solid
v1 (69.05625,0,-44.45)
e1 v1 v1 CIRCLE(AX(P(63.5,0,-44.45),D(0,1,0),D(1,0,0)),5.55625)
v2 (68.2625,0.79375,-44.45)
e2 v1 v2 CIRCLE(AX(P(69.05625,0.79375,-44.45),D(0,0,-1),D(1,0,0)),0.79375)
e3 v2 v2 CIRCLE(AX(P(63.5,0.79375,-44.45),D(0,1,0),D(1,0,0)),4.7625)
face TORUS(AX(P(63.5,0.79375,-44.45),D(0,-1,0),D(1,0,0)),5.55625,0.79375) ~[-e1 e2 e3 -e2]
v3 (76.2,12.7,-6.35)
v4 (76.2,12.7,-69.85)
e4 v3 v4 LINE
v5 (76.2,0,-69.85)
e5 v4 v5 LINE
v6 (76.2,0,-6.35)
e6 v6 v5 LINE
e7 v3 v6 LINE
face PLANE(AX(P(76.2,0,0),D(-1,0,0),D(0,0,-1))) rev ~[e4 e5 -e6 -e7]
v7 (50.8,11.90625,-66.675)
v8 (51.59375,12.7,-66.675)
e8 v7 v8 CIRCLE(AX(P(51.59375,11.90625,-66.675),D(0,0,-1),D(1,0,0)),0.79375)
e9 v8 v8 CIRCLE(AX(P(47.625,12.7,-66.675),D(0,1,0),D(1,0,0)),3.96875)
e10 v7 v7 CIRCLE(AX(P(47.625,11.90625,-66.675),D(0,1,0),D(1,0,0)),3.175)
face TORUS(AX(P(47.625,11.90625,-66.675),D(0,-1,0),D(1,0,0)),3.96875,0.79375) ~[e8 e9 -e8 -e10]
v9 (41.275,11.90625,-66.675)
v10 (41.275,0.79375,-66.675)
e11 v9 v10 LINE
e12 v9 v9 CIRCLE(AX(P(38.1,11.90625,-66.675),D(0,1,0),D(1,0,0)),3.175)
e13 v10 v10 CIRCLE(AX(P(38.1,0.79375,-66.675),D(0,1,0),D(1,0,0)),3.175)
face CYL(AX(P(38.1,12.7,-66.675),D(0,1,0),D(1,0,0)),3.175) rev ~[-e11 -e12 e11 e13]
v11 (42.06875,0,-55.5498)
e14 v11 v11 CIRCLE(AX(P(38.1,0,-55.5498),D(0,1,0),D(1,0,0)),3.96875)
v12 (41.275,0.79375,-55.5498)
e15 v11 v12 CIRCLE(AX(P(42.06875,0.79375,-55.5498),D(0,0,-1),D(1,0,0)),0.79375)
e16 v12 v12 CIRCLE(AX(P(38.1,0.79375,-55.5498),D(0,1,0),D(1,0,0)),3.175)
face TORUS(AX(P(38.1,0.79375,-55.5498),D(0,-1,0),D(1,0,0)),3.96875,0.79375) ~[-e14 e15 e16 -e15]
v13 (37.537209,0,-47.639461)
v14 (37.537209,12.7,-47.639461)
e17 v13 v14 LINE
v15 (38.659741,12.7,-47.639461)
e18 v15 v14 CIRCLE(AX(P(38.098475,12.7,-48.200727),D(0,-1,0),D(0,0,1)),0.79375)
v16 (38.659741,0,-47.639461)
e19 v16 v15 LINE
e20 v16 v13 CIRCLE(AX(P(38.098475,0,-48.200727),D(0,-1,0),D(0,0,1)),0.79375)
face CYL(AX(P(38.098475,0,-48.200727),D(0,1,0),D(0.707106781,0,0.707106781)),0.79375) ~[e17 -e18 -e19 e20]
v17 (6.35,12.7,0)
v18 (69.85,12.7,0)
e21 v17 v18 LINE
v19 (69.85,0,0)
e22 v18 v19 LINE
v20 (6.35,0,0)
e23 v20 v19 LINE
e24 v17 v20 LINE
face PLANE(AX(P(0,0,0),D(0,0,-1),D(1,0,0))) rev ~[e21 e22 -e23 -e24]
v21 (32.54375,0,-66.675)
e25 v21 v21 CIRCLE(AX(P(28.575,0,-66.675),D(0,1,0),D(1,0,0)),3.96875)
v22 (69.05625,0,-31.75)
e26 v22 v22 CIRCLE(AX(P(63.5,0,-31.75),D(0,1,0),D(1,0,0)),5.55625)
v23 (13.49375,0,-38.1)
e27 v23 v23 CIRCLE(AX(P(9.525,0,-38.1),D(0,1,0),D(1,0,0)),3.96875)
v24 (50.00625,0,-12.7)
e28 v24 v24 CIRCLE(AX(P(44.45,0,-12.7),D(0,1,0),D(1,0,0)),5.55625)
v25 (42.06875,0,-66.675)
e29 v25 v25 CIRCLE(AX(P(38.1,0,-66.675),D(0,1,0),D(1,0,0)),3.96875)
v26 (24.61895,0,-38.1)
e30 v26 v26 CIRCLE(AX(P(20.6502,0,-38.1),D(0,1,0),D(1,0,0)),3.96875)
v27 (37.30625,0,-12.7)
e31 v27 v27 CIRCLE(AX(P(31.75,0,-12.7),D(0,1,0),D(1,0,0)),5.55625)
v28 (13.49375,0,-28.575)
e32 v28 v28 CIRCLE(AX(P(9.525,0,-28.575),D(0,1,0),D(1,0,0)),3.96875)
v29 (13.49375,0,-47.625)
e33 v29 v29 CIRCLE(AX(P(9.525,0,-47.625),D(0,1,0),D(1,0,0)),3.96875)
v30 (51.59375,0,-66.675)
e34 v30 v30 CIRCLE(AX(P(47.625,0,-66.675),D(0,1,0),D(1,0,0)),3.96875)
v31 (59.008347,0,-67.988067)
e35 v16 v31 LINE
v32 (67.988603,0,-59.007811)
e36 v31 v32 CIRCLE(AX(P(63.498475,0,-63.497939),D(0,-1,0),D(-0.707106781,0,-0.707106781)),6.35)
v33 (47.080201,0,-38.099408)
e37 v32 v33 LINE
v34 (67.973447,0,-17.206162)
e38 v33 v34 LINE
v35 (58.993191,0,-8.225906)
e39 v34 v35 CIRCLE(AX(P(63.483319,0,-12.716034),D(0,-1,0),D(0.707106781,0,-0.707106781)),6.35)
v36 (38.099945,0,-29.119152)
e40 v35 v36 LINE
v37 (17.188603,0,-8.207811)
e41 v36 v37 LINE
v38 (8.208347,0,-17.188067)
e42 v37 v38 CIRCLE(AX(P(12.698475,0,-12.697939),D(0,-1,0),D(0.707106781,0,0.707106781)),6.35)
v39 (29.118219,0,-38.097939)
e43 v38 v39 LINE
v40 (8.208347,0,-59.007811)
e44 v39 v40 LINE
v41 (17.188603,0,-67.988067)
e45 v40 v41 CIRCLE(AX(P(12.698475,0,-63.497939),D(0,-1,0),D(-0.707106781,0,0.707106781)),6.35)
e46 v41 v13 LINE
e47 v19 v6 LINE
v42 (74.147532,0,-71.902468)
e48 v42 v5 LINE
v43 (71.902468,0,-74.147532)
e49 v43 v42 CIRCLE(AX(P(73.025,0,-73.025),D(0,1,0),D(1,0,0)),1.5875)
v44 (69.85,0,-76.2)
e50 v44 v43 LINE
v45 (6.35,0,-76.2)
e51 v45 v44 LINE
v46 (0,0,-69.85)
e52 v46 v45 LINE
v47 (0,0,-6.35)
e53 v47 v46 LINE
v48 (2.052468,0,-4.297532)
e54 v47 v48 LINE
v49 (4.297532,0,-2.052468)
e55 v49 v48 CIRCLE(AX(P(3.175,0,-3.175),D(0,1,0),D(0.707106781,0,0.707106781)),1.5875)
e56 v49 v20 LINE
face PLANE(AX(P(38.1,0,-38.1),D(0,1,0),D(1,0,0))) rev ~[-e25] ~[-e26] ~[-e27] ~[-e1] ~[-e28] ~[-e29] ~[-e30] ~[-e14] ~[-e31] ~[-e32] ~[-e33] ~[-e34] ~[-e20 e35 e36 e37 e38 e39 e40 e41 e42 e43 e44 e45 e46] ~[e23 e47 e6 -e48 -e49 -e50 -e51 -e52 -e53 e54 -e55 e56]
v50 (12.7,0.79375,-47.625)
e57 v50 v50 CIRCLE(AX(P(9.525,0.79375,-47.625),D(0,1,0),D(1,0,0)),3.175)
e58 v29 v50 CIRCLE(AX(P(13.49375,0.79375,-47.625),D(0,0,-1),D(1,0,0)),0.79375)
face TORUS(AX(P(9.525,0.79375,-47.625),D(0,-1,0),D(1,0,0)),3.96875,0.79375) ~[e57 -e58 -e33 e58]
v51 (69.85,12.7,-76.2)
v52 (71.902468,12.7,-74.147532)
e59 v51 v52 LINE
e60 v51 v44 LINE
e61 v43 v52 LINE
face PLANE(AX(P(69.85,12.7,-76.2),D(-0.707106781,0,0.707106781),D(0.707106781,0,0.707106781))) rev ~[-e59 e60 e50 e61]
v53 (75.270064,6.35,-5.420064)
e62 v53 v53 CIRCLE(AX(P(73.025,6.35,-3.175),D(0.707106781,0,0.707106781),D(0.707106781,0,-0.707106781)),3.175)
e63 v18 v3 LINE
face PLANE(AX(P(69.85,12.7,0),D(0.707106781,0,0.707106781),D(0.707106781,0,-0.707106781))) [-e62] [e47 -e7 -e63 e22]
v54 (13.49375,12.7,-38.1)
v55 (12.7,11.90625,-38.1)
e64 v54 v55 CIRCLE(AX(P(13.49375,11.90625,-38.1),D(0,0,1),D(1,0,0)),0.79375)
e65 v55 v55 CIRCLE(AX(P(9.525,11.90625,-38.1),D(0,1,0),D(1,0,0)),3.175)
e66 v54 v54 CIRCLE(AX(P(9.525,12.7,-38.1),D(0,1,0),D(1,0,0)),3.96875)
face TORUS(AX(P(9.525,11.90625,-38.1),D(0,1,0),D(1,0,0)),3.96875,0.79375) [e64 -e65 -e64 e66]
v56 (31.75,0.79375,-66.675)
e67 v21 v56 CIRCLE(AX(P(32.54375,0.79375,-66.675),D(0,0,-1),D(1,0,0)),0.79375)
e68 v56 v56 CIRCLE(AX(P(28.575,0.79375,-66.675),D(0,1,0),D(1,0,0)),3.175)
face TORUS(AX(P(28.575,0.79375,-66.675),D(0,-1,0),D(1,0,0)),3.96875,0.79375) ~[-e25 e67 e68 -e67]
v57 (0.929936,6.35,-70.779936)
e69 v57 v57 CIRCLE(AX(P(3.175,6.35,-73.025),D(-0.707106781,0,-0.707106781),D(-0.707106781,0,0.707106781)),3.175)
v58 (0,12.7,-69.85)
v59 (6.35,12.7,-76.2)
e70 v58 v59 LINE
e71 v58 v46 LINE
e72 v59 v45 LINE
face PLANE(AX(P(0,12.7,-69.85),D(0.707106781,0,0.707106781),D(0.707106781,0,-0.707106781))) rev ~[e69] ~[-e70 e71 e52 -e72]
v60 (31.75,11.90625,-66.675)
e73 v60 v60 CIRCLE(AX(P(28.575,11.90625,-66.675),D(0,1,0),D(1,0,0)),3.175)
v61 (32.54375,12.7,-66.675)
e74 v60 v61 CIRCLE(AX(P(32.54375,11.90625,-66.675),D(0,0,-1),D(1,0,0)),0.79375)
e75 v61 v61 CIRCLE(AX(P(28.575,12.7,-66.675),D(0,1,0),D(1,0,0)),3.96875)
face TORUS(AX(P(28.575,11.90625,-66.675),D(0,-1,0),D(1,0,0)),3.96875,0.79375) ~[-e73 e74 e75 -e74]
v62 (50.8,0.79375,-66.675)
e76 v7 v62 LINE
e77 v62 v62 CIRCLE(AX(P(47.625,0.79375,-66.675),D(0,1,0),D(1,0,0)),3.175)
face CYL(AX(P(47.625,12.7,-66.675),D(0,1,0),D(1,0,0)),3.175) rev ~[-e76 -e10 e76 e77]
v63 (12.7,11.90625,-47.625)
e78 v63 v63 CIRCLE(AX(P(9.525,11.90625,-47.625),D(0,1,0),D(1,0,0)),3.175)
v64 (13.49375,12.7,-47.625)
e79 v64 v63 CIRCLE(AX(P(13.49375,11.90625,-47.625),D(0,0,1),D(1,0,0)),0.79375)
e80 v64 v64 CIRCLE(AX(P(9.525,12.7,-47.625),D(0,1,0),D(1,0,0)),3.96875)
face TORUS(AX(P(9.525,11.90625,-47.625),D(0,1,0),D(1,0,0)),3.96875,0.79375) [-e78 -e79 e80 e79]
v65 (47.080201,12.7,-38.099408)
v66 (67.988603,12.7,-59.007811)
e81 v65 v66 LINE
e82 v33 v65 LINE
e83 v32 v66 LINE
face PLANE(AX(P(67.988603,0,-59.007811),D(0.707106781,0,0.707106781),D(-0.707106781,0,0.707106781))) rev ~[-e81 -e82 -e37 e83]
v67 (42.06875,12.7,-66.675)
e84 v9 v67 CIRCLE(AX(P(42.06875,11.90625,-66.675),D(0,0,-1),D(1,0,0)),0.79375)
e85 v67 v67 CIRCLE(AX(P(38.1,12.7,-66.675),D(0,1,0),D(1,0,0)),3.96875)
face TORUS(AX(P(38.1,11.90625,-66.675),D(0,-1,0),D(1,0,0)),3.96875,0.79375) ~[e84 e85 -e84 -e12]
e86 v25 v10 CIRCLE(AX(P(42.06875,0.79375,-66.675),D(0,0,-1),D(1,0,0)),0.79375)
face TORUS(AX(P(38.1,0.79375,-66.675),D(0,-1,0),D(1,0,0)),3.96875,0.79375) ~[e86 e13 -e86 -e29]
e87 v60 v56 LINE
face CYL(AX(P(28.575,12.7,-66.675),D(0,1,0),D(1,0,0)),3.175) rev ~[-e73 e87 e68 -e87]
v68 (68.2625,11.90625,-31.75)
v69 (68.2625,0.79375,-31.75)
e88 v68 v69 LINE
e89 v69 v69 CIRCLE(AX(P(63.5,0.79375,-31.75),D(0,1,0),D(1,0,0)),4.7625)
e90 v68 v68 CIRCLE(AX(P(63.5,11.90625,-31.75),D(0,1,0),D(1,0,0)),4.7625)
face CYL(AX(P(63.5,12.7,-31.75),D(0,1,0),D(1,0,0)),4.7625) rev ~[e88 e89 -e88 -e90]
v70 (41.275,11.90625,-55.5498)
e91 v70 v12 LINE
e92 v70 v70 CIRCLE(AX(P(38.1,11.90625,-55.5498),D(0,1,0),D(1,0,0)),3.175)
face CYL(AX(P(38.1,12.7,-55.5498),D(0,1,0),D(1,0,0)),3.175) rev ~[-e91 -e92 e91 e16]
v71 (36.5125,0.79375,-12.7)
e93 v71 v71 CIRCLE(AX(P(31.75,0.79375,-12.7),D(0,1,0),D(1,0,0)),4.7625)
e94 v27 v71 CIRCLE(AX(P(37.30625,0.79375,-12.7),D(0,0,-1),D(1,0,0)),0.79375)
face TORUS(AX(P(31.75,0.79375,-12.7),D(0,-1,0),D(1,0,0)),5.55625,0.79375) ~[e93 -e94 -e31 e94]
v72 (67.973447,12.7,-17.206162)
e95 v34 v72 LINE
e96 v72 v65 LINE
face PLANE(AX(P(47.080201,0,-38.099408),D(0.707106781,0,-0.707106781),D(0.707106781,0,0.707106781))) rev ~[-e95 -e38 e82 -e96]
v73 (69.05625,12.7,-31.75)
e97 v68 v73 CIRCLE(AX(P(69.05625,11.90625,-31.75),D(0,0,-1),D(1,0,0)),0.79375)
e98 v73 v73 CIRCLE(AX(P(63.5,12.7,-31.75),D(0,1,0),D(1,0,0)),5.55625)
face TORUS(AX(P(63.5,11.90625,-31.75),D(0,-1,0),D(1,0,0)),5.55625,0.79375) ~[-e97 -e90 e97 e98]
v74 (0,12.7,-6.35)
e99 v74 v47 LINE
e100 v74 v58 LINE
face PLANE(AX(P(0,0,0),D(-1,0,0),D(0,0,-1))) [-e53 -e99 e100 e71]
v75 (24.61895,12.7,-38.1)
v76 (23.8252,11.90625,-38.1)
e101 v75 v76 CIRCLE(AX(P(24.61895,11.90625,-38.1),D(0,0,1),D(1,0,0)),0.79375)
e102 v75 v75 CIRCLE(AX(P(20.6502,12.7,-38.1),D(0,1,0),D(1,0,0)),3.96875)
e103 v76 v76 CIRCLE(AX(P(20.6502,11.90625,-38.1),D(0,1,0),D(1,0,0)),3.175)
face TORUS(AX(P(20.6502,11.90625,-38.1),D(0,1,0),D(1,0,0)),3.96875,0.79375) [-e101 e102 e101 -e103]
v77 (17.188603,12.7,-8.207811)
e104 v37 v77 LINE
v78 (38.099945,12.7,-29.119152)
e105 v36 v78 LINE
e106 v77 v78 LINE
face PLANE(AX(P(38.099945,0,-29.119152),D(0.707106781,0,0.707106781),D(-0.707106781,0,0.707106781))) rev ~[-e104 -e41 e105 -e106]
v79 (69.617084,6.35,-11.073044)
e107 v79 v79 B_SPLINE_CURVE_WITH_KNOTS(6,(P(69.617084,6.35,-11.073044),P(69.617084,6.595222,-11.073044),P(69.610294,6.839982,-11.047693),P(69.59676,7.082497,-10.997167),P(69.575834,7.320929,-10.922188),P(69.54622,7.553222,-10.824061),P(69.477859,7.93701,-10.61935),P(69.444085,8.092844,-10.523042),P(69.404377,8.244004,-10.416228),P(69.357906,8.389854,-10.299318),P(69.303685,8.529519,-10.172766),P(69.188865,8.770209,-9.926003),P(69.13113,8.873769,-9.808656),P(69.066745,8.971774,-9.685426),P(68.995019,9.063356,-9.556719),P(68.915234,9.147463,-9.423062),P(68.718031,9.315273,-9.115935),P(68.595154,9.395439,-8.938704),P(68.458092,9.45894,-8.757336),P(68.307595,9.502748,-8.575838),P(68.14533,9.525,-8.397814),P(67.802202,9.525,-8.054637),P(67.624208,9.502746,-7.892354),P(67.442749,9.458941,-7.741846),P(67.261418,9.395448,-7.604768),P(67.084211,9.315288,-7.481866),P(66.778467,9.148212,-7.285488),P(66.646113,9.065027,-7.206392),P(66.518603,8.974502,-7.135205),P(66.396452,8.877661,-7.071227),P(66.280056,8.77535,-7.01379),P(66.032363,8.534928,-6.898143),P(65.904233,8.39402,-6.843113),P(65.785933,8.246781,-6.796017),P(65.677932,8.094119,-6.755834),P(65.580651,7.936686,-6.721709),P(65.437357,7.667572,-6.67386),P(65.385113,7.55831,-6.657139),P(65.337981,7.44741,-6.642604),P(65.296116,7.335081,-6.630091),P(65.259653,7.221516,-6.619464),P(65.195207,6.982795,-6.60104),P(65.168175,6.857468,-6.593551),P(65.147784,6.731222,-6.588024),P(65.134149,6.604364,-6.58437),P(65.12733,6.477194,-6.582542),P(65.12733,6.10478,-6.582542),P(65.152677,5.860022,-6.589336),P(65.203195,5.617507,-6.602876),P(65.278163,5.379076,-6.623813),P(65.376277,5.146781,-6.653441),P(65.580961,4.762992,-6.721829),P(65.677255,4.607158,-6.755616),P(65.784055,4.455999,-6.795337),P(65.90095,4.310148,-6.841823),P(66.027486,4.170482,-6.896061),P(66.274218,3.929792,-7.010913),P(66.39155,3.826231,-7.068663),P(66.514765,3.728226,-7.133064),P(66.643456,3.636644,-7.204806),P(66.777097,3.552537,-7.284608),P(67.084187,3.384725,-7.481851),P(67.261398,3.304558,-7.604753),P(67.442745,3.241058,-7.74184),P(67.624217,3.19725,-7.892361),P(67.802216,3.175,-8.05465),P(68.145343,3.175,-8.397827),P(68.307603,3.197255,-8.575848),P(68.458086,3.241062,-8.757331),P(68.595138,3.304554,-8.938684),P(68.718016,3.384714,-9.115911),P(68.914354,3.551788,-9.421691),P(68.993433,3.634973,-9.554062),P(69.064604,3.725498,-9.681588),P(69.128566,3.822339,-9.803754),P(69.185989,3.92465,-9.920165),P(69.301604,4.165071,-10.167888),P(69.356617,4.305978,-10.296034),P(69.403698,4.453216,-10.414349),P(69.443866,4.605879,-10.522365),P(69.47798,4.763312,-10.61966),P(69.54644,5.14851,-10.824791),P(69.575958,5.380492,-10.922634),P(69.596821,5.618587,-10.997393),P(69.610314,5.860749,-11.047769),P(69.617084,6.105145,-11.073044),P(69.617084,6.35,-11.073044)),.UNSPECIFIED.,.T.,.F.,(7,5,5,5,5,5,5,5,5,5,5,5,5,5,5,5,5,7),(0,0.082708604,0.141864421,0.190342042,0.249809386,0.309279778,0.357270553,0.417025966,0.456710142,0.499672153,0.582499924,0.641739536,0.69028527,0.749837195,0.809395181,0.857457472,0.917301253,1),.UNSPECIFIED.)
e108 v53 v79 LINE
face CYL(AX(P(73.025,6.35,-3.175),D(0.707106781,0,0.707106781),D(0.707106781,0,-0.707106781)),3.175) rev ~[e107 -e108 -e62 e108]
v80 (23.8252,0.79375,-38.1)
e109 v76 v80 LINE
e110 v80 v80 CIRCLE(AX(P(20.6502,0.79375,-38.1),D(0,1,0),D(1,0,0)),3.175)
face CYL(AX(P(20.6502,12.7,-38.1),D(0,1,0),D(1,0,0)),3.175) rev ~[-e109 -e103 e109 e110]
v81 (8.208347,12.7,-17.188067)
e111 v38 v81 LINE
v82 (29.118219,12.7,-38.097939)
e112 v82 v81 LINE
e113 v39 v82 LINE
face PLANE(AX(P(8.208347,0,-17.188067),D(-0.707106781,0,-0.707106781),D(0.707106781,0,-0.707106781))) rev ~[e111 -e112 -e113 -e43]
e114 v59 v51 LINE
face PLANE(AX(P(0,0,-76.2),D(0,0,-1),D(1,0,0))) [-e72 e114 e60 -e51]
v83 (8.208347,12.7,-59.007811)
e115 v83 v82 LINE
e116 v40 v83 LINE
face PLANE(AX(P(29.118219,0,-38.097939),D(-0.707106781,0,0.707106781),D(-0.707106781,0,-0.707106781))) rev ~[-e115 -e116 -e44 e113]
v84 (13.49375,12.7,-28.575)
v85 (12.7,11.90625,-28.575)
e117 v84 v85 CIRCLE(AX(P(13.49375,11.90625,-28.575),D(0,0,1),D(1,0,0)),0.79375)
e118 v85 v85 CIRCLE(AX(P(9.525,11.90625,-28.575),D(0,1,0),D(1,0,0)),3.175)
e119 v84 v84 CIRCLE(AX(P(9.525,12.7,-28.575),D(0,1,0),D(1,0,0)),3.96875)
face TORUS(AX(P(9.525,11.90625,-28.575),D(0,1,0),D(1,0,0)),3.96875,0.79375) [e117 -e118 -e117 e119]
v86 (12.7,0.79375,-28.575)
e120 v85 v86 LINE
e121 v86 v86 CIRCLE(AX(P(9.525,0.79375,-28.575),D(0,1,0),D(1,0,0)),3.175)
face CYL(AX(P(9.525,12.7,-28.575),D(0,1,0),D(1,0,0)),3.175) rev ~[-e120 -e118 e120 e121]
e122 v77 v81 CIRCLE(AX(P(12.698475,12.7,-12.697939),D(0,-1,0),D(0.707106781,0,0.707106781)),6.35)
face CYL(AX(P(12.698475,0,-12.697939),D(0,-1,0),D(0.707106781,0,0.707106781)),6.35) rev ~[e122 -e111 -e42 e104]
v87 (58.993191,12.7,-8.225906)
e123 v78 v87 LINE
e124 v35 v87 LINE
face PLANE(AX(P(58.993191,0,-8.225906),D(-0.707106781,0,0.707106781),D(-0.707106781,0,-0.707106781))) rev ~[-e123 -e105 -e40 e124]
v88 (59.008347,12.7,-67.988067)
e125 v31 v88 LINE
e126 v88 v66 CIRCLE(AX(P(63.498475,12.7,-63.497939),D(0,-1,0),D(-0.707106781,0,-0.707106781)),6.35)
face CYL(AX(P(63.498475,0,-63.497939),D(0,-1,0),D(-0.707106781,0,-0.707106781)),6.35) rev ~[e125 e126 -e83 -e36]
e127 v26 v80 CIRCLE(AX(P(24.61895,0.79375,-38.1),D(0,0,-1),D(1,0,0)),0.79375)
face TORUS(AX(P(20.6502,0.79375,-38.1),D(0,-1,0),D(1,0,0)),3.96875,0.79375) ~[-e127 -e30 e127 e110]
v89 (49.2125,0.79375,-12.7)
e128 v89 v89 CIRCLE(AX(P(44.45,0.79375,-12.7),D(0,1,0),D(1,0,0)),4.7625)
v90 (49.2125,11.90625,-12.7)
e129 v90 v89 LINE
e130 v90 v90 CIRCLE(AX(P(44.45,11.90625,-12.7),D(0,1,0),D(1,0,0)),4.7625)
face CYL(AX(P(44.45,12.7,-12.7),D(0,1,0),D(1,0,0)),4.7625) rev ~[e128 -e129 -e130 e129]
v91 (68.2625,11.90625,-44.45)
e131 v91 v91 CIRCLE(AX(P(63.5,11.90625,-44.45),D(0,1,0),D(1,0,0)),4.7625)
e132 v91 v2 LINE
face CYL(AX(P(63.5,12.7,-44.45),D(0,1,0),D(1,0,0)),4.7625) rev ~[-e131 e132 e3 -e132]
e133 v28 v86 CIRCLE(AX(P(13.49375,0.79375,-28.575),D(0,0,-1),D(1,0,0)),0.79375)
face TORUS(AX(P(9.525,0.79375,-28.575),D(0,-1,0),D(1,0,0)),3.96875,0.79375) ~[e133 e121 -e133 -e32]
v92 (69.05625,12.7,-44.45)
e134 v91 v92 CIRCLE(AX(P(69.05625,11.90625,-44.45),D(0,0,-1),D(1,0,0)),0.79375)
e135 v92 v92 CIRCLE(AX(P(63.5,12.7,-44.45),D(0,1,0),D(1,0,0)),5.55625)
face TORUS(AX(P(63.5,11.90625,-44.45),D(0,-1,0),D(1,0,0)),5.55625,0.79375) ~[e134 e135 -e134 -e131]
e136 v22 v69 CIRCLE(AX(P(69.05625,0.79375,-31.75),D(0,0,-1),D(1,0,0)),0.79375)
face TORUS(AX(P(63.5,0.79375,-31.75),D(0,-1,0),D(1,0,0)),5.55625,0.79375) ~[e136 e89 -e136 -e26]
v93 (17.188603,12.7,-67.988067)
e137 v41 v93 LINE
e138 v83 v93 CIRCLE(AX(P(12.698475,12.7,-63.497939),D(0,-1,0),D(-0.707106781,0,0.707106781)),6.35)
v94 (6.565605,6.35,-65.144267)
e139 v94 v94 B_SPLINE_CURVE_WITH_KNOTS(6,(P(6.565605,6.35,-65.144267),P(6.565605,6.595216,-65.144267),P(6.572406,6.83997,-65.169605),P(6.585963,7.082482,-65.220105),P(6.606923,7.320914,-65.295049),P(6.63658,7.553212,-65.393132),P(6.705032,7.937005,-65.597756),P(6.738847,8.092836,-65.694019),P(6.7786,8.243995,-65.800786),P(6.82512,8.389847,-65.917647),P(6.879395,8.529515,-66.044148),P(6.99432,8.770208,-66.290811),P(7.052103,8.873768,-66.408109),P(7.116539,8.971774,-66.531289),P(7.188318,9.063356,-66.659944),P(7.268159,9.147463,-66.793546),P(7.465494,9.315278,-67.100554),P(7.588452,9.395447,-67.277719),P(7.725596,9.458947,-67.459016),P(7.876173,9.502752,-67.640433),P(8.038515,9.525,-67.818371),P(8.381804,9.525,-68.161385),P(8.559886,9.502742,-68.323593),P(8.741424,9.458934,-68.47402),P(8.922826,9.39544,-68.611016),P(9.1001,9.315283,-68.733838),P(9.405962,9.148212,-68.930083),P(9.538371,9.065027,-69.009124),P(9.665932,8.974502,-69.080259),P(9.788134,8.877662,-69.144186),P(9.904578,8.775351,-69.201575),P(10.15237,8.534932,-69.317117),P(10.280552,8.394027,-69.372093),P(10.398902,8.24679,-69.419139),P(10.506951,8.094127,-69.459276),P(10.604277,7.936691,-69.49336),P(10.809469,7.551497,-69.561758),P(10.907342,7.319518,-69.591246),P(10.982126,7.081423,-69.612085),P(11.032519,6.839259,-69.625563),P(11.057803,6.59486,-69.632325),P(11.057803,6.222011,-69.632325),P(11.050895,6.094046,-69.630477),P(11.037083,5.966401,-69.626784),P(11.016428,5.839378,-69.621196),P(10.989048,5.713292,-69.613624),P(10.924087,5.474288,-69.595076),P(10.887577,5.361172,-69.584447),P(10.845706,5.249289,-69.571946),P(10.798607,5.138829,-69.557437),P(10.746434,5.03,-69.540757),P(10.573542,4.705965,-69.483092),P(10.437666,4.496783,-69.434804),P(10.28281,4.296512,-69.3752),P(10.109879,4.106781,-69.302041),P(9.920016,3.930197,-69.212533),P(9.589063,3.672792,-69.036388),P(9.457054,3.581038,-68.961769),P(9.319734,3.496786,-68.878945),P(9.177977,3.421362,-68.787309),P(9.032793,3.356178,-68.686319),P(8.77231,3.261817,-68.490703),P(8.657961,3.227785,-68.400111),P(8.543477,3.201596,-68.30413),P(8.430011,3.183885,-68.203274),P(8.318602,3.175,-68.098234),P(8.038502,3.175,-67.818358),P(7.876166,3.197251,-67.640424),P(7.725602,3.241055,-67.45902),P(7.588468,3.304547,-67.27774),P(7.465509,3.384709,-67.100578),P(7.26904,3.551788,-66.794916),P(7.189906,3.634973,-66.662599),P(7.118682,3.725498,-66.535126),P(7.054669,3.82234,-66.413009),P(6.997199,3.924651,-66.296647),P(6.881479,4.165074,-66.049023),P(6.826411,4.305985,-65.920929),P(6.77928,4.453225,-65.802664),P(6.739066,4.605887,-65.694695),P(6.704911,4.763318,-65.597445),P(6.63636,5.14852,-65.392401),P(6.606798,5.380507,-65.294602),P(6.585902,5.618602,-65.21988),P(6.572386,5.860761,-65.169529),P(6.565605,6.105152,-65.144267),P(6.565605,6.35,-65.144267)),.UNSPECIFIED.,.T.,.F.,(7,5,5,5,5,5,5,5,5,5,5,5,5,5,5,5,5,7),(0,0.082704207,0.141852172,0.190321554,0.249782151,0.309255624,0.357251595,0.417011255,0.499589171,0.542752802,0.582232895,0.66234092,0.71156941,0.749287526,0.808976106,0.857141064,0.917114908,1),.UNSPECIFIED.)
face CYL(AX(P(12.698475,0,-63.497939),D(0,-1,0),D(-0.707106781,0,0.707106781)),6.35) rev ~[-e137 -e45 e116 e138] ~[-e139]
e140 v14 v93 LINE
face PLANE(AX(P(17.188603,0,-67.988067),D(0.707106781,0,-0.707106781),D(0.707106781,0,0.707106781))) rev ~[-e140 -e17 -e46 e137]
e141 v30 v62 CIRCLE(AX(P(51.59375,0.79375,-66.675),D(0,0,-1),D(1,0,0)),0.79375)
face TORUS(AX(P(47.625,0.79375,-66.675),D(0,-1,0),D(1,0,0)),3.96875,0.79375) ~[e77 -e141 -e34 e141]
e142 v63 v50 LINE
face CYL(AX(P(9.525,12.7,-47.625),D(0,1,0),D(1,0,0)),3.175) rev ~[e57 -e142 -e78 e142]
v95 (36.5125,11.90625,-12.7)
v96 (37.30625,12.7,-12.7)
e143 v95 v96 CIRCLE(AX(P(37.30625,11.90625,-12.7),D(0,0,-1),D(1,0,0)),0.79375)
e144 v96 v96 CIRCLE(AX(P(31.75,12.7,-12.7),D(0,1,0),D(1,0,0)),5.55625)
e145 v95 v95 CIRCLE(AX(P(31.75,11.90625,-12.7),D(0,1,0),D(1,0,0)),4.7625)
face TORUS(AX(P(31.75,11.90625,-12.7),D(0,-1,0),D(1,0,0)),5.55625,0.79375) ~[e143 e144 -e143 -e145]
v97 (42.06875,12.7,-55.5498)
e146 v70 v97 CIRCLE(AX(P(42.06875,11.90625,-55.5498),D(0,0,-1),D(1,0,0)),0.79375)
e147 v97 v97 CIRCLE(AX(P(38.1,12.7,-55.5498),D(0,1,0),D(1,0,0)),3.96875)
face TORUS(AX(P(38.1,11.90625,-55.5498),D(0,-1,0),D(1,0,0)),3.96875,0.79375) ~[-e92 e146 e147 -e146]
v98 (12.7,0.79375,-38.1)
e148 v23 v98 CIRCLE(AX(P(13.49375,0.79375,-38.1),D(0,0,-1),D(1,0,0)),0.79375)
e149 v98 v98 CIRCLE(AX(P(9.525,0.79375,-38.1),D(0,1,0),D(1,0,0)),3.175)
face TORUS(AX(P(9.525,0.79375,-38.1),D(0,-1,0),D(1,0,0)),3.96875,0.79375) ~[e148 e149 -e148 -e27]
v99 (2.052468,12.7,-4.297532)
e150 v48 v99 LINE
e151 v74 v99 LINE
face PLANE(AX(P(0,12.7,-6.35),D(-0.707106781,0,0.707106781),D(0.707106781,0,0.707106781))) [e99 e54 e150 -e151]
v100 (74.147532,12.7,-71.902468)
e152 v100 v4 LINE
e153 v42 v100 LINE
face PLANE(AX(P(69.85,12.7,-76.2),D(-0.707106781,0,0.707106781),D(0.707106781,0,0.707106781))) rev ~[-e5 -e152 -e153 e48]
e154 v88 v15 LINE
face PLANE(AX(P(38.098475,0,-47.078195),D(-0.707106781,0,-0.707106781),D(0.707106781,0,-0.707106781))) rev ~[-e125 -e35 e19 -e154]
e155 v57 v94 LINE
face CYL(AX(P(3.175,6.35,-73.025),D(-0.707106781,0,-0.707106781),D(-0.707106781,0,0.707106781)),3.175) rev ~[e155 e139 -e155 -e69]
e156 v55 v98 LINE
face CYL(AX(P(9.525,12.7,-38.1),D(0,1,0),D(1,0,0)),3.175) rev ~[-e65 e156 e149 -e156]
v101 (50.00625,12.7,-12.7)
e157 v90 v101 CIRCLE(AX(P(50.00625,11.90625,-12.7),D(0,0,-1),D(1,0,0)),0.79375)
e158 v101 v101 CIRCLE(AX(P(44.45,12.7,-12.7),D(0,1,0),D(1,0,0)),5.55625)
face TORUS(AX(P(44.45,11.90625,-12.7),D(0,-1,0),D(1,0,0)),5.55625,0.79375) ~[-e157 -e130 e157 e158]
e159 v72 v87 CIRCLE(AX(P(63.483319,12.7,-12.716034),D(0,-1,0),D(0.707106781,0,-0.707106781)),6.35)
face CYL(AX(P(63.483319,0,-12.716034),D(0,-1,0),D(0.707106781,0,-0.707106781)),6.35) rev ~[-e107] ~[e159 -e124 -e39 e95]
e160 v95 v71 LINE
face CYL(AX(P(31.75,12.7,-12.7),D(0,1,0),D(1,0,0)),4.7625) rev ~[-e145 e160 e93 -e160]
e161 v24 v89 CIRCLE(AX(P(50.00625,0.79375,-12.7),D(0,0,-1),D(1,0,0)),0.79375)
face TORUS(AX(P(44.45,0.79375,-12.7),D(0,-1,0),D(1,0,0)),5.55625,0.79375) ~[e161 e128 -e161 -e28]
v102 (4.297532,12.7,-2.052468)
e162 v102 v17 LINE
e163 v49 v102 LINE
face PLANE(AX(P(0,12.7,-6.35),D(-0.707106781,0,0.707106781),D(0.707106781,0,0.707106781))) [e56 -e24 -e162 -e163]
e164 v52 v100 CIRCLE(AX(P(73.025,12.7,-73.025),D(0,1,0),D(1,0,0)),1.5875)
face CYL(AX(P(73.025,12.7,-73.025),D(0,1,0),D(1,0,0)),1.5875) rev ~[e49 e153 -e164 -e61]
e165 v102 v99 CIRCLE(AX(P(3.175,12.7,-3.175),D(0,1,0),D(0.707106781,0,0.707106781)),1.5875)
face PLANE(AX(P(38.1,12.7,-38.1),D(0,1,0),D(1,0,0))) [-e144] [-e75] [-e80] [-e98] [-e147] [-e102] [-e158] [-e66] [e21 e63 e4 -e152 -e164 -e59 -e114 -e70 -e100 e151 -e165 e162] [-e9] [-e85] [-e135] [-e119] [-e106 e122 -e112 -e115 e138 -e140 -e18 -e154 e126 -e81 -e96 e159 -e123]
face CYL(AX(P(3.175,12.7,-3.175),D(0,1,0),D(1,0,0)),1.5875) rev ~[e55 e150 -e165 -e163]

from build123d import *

# Parameters (mm, degrees)
SKETCH1_W           = 76.2
SKETCH1_H           = 76.2
BOSS_EXTRUDE1_DEPTH = 12.7
CUT_EXTRUDE1_DEPTH  = 13.7
SKETCH4_R           = 3.175
SKETCH4_R_2         = 4.7625
CUT_EXTRUDE3_DEPTH  = 13.7
FILLET4_R           = 0.79375
FILLET5_R           = 0.79375
FILLET6_R           = 0.79375
FILLET7_R           = 0.79375
CUT_EXTRUDE5_DEPTH  = 13.7
SKETCH6_R           = 1.5875
CUT_EXTRUDE6_DEPTH  = 13.7
SKETCH7_R           = 3.175
CUT_EXTRUDE7_DEPTH  = 10.414
SKETCH8_R           = 3.175
CUT_EXTRUDE8_DEPTH  = 10.414


with BuildPart() as part:
    # Sketch1 → Boss-Extrude1 (new body)
    with BuildSketch(Plane(origin=(0, 0, 0), x_dir=(1, 0, 0), z_dir=(0, 1, 0))):
        with Locations((38.1, 38.1)):
            Rectangle(SKETCH1_W, SKETCH1_H)
    extrude(amount=BOSS_EXTRUDE1_DEPTH)

    # Sketch3 → Cut-Extrude1 (cut, through all)
    with BuildSketch(Plane(origin=(0, 0, 0), x_dir=(-1, 0, 0), z_dir=(0, -1, 0))):
        with BuildLine():
            Line((-67.988603243, 59.007810639), (-47.080200842, 38.099408239))
            Line((-47.080200842, 38.099408239), (-67.973446843, 17.206162238))
            ThreePointArc((-67.973446843, 17.206162238), (-67.973446843, 8.225906117), (-58.993190722, 8.225906117))
            Line((-58.993190722, 8.225906117), (-38.099944721, 29.119152118))
            Line((-38.099944721, 29.119152118), (-17.188603243, 8.207810639))
            ThreePointArc((-17.188603243, 8.207810639), (-8.208347122, 8.207810639), (-8.208347122, 17.18806676))
            Line((-8.208347122, 17.18806676), (-29.118219061, 38.0979387))
            Line((-29.118219061, 38.0979387), (-8.208347122, 59.007810639))
            ThreePointArc((-8.208347122, 59.007810639), (-8.208347122, 67.98806676), (-17.188603243, 67.98806676))
            Line((-17.188603243, 67.98806676), (-38.098475182, 47.078194821))
            Line((-38.098475182, 47.078194821), (-59.008347122, 67.98806676))
            ThreePointArc((-59.008347122, 67.98806676), (-67.988603243, 67.98806676), (-67.988603243, 59.007810639))
        make_face()
    extrude(amount=-CUT_EXTRUDE1_DEPTH, mode=Mode.SUBTRACT)

    # Sketch4 → Cut-Extrude3 (cut, through all)
    with BuildSketch(Plane(origin=(0, 12.7, 0), x_dir=(1, 0, 0), z_dir=(0, 1, 0))):
        with Locations((9.525, 28.575)):
            Circle(SKETCH4_R)
        with Locations((9.525, 38.1)):
            Circle(SKETCH4_R)
        with Locations((9.525, 47.625)):
            Circle(SKETCH4_R)
        with Locations((20.6502, 38.1)):
            Circle(SKETCH4_R)
        with Locations((28.575, 66.675)):
            Circle(SKETCH4_R)
        with Locations((38.1, 66.675)):
            Circle(SKETCH4_R)
        with Locations((47.625, 66.675)):
            Circle(SKETCH4_R)
        with Locations((38.1, 55.5498)):
            Circle(SKETCH4_R)
        with Locations((31.75, 12.7)):
            Circle(SKETCH4_R_2)
        with Locations((63.5, 31.75)):
            Circle(SKETCH4_R_2)
        with Locations((63.5, 44.45)):
            Circle(SKETCH4_R_2)
        with Locations((44.45, 12.7)):
            Circle(SKETCH4_R_2)
    extrude(amount=-CUT_EXTRUDE3_DEPTH, mode=Mode.SUBTRACT)

    # Fillet4
    fillet4_edges = [part.edges().sort_by_distance(p)[0] for p in [
        (6.35, 0, -28.575),
        (6.35, 12.7, -28.575),
        (17.4752, 0, -38.1),
        (17.4752, 12.7, -38.1),
        (6.35, 0, -47.625),
        (6.35, 12.7, -47.625),
        (6.35, 0, -38.1),
        (6.35, 12.7, -38.1),
    ]]
    fillet(fillet4_edges, radius=FILLET4_R)

    # Fillet5
    fillet5_edges = [part.edges().sort_by_distance(p)[0] for p in [
        (38.098475182, 6.35, -47.078194821),
        (44.45, 0, -66.675),
        (44.45, 12.7, -66.675),
        (34.925, 0, -55.5498),
        (34.925, 12.7, -55.5498),
        (34.925, 0, -66.675),
        (34.925, 12.7, -66.675),
        (25.4, 0, -66.675),
        (25.4, 12.7, -66.675),
    ]]
    fillet(fillet5_edges, radius=FILLET5_R)

    # Fillet6
    fillet6_edges = [part.edges().sort_by_distance(p)[0] for p in [
        (58.7375, 0, -31.75),
        (58.7375, 12.7, -31.75),
        (58.7375, 0, -44.45),
        (58.7375, 12.7, -44.45),
    ]]
    fillet(fillet6_edges, radius=FILLET6_R)

    # Fillet7
    fillet7_edges = [part.edges().sort_by_distance(p)[0] for p in [
        (26.9875, 0, -12.7),
        (26.9875, 12.7, -12.7),
        (39.6875, 0, -12.7),
        (39.6875, 12.7, -12.7),
    ]]
    fillet(fillet7_edges, radius=FILLET7_R)

    # Sketch5 → Cut-Extrude5 (cut, through all)
    with BuildSketch(Plane(origin=(0, 12.7, 0), x_dir=(1, 0, 0), z_dir=(0, 1, 0))):
        Polygon((0, 6.35), (6.35, 0), (0, 0), align=None)
        Polygon((0, 76.2), (0, 69.85), (6.35, 76.2), align=None)
        Polygon((69.85, 76.2), (76.2, 69.85), (76.2, 76.2), align=None)
        Polygon((69.85, 0), (76.2, 6.35), (76.2, 0), align=None)
    extrude(amount=-CUT_EXTRUDE5_DEPTH, mode=Mode.SUBTRACT)

    # Sketch6 → Cut-Extrude6 (cut, through all)
    with BuildSketch(Plane(origin=(0, 12.7, 0), x_dir=(1, 0, 0), z_dir=(0, 1, 0))):
        with Locations((3.175, 3.175)):
            Circle(SKETCH6_R)
        with Locations((73.025, 73.025)):
            Circle(SKETCH6_R)
    extrude(amount=-CUT_EXTRUDE6_DEPTH, mode=Mode.SUBTRACT)

    # Sketch7 → Cut-Extrude7 (cut)
    with BuildSketch(Plane(origin=(34.925, 0, 34.925), x_dir=(0.707106781, 0, -0.707106781), z_dir=(0.707106781, 0, 0.707106781))):
        with Locations((53.881536726, 6.35)):
            Circle(SKETCH7_R)
    extrude(amount=-CUT_EXTRUDE7_DEPTH, mode=Mode.SUBTRACT)

    # Sketch8 → Cut-Extrude8 (cut)
    with BuildSketch(Plane(origin=(-34.925, 0, -34.925), x_dir=(-0.707106781, 0, 0.707106781), z_dir=(-0.707106781, 0, -0.707106781))):
        with Locations((-53.881536726, 6.35)):
            Circle(SKETCH8_R)
    extrude(amount=-CUT_EXTRUDE8_DEPTH, mode=Mode.SUBTRACT)


solid = part.part
